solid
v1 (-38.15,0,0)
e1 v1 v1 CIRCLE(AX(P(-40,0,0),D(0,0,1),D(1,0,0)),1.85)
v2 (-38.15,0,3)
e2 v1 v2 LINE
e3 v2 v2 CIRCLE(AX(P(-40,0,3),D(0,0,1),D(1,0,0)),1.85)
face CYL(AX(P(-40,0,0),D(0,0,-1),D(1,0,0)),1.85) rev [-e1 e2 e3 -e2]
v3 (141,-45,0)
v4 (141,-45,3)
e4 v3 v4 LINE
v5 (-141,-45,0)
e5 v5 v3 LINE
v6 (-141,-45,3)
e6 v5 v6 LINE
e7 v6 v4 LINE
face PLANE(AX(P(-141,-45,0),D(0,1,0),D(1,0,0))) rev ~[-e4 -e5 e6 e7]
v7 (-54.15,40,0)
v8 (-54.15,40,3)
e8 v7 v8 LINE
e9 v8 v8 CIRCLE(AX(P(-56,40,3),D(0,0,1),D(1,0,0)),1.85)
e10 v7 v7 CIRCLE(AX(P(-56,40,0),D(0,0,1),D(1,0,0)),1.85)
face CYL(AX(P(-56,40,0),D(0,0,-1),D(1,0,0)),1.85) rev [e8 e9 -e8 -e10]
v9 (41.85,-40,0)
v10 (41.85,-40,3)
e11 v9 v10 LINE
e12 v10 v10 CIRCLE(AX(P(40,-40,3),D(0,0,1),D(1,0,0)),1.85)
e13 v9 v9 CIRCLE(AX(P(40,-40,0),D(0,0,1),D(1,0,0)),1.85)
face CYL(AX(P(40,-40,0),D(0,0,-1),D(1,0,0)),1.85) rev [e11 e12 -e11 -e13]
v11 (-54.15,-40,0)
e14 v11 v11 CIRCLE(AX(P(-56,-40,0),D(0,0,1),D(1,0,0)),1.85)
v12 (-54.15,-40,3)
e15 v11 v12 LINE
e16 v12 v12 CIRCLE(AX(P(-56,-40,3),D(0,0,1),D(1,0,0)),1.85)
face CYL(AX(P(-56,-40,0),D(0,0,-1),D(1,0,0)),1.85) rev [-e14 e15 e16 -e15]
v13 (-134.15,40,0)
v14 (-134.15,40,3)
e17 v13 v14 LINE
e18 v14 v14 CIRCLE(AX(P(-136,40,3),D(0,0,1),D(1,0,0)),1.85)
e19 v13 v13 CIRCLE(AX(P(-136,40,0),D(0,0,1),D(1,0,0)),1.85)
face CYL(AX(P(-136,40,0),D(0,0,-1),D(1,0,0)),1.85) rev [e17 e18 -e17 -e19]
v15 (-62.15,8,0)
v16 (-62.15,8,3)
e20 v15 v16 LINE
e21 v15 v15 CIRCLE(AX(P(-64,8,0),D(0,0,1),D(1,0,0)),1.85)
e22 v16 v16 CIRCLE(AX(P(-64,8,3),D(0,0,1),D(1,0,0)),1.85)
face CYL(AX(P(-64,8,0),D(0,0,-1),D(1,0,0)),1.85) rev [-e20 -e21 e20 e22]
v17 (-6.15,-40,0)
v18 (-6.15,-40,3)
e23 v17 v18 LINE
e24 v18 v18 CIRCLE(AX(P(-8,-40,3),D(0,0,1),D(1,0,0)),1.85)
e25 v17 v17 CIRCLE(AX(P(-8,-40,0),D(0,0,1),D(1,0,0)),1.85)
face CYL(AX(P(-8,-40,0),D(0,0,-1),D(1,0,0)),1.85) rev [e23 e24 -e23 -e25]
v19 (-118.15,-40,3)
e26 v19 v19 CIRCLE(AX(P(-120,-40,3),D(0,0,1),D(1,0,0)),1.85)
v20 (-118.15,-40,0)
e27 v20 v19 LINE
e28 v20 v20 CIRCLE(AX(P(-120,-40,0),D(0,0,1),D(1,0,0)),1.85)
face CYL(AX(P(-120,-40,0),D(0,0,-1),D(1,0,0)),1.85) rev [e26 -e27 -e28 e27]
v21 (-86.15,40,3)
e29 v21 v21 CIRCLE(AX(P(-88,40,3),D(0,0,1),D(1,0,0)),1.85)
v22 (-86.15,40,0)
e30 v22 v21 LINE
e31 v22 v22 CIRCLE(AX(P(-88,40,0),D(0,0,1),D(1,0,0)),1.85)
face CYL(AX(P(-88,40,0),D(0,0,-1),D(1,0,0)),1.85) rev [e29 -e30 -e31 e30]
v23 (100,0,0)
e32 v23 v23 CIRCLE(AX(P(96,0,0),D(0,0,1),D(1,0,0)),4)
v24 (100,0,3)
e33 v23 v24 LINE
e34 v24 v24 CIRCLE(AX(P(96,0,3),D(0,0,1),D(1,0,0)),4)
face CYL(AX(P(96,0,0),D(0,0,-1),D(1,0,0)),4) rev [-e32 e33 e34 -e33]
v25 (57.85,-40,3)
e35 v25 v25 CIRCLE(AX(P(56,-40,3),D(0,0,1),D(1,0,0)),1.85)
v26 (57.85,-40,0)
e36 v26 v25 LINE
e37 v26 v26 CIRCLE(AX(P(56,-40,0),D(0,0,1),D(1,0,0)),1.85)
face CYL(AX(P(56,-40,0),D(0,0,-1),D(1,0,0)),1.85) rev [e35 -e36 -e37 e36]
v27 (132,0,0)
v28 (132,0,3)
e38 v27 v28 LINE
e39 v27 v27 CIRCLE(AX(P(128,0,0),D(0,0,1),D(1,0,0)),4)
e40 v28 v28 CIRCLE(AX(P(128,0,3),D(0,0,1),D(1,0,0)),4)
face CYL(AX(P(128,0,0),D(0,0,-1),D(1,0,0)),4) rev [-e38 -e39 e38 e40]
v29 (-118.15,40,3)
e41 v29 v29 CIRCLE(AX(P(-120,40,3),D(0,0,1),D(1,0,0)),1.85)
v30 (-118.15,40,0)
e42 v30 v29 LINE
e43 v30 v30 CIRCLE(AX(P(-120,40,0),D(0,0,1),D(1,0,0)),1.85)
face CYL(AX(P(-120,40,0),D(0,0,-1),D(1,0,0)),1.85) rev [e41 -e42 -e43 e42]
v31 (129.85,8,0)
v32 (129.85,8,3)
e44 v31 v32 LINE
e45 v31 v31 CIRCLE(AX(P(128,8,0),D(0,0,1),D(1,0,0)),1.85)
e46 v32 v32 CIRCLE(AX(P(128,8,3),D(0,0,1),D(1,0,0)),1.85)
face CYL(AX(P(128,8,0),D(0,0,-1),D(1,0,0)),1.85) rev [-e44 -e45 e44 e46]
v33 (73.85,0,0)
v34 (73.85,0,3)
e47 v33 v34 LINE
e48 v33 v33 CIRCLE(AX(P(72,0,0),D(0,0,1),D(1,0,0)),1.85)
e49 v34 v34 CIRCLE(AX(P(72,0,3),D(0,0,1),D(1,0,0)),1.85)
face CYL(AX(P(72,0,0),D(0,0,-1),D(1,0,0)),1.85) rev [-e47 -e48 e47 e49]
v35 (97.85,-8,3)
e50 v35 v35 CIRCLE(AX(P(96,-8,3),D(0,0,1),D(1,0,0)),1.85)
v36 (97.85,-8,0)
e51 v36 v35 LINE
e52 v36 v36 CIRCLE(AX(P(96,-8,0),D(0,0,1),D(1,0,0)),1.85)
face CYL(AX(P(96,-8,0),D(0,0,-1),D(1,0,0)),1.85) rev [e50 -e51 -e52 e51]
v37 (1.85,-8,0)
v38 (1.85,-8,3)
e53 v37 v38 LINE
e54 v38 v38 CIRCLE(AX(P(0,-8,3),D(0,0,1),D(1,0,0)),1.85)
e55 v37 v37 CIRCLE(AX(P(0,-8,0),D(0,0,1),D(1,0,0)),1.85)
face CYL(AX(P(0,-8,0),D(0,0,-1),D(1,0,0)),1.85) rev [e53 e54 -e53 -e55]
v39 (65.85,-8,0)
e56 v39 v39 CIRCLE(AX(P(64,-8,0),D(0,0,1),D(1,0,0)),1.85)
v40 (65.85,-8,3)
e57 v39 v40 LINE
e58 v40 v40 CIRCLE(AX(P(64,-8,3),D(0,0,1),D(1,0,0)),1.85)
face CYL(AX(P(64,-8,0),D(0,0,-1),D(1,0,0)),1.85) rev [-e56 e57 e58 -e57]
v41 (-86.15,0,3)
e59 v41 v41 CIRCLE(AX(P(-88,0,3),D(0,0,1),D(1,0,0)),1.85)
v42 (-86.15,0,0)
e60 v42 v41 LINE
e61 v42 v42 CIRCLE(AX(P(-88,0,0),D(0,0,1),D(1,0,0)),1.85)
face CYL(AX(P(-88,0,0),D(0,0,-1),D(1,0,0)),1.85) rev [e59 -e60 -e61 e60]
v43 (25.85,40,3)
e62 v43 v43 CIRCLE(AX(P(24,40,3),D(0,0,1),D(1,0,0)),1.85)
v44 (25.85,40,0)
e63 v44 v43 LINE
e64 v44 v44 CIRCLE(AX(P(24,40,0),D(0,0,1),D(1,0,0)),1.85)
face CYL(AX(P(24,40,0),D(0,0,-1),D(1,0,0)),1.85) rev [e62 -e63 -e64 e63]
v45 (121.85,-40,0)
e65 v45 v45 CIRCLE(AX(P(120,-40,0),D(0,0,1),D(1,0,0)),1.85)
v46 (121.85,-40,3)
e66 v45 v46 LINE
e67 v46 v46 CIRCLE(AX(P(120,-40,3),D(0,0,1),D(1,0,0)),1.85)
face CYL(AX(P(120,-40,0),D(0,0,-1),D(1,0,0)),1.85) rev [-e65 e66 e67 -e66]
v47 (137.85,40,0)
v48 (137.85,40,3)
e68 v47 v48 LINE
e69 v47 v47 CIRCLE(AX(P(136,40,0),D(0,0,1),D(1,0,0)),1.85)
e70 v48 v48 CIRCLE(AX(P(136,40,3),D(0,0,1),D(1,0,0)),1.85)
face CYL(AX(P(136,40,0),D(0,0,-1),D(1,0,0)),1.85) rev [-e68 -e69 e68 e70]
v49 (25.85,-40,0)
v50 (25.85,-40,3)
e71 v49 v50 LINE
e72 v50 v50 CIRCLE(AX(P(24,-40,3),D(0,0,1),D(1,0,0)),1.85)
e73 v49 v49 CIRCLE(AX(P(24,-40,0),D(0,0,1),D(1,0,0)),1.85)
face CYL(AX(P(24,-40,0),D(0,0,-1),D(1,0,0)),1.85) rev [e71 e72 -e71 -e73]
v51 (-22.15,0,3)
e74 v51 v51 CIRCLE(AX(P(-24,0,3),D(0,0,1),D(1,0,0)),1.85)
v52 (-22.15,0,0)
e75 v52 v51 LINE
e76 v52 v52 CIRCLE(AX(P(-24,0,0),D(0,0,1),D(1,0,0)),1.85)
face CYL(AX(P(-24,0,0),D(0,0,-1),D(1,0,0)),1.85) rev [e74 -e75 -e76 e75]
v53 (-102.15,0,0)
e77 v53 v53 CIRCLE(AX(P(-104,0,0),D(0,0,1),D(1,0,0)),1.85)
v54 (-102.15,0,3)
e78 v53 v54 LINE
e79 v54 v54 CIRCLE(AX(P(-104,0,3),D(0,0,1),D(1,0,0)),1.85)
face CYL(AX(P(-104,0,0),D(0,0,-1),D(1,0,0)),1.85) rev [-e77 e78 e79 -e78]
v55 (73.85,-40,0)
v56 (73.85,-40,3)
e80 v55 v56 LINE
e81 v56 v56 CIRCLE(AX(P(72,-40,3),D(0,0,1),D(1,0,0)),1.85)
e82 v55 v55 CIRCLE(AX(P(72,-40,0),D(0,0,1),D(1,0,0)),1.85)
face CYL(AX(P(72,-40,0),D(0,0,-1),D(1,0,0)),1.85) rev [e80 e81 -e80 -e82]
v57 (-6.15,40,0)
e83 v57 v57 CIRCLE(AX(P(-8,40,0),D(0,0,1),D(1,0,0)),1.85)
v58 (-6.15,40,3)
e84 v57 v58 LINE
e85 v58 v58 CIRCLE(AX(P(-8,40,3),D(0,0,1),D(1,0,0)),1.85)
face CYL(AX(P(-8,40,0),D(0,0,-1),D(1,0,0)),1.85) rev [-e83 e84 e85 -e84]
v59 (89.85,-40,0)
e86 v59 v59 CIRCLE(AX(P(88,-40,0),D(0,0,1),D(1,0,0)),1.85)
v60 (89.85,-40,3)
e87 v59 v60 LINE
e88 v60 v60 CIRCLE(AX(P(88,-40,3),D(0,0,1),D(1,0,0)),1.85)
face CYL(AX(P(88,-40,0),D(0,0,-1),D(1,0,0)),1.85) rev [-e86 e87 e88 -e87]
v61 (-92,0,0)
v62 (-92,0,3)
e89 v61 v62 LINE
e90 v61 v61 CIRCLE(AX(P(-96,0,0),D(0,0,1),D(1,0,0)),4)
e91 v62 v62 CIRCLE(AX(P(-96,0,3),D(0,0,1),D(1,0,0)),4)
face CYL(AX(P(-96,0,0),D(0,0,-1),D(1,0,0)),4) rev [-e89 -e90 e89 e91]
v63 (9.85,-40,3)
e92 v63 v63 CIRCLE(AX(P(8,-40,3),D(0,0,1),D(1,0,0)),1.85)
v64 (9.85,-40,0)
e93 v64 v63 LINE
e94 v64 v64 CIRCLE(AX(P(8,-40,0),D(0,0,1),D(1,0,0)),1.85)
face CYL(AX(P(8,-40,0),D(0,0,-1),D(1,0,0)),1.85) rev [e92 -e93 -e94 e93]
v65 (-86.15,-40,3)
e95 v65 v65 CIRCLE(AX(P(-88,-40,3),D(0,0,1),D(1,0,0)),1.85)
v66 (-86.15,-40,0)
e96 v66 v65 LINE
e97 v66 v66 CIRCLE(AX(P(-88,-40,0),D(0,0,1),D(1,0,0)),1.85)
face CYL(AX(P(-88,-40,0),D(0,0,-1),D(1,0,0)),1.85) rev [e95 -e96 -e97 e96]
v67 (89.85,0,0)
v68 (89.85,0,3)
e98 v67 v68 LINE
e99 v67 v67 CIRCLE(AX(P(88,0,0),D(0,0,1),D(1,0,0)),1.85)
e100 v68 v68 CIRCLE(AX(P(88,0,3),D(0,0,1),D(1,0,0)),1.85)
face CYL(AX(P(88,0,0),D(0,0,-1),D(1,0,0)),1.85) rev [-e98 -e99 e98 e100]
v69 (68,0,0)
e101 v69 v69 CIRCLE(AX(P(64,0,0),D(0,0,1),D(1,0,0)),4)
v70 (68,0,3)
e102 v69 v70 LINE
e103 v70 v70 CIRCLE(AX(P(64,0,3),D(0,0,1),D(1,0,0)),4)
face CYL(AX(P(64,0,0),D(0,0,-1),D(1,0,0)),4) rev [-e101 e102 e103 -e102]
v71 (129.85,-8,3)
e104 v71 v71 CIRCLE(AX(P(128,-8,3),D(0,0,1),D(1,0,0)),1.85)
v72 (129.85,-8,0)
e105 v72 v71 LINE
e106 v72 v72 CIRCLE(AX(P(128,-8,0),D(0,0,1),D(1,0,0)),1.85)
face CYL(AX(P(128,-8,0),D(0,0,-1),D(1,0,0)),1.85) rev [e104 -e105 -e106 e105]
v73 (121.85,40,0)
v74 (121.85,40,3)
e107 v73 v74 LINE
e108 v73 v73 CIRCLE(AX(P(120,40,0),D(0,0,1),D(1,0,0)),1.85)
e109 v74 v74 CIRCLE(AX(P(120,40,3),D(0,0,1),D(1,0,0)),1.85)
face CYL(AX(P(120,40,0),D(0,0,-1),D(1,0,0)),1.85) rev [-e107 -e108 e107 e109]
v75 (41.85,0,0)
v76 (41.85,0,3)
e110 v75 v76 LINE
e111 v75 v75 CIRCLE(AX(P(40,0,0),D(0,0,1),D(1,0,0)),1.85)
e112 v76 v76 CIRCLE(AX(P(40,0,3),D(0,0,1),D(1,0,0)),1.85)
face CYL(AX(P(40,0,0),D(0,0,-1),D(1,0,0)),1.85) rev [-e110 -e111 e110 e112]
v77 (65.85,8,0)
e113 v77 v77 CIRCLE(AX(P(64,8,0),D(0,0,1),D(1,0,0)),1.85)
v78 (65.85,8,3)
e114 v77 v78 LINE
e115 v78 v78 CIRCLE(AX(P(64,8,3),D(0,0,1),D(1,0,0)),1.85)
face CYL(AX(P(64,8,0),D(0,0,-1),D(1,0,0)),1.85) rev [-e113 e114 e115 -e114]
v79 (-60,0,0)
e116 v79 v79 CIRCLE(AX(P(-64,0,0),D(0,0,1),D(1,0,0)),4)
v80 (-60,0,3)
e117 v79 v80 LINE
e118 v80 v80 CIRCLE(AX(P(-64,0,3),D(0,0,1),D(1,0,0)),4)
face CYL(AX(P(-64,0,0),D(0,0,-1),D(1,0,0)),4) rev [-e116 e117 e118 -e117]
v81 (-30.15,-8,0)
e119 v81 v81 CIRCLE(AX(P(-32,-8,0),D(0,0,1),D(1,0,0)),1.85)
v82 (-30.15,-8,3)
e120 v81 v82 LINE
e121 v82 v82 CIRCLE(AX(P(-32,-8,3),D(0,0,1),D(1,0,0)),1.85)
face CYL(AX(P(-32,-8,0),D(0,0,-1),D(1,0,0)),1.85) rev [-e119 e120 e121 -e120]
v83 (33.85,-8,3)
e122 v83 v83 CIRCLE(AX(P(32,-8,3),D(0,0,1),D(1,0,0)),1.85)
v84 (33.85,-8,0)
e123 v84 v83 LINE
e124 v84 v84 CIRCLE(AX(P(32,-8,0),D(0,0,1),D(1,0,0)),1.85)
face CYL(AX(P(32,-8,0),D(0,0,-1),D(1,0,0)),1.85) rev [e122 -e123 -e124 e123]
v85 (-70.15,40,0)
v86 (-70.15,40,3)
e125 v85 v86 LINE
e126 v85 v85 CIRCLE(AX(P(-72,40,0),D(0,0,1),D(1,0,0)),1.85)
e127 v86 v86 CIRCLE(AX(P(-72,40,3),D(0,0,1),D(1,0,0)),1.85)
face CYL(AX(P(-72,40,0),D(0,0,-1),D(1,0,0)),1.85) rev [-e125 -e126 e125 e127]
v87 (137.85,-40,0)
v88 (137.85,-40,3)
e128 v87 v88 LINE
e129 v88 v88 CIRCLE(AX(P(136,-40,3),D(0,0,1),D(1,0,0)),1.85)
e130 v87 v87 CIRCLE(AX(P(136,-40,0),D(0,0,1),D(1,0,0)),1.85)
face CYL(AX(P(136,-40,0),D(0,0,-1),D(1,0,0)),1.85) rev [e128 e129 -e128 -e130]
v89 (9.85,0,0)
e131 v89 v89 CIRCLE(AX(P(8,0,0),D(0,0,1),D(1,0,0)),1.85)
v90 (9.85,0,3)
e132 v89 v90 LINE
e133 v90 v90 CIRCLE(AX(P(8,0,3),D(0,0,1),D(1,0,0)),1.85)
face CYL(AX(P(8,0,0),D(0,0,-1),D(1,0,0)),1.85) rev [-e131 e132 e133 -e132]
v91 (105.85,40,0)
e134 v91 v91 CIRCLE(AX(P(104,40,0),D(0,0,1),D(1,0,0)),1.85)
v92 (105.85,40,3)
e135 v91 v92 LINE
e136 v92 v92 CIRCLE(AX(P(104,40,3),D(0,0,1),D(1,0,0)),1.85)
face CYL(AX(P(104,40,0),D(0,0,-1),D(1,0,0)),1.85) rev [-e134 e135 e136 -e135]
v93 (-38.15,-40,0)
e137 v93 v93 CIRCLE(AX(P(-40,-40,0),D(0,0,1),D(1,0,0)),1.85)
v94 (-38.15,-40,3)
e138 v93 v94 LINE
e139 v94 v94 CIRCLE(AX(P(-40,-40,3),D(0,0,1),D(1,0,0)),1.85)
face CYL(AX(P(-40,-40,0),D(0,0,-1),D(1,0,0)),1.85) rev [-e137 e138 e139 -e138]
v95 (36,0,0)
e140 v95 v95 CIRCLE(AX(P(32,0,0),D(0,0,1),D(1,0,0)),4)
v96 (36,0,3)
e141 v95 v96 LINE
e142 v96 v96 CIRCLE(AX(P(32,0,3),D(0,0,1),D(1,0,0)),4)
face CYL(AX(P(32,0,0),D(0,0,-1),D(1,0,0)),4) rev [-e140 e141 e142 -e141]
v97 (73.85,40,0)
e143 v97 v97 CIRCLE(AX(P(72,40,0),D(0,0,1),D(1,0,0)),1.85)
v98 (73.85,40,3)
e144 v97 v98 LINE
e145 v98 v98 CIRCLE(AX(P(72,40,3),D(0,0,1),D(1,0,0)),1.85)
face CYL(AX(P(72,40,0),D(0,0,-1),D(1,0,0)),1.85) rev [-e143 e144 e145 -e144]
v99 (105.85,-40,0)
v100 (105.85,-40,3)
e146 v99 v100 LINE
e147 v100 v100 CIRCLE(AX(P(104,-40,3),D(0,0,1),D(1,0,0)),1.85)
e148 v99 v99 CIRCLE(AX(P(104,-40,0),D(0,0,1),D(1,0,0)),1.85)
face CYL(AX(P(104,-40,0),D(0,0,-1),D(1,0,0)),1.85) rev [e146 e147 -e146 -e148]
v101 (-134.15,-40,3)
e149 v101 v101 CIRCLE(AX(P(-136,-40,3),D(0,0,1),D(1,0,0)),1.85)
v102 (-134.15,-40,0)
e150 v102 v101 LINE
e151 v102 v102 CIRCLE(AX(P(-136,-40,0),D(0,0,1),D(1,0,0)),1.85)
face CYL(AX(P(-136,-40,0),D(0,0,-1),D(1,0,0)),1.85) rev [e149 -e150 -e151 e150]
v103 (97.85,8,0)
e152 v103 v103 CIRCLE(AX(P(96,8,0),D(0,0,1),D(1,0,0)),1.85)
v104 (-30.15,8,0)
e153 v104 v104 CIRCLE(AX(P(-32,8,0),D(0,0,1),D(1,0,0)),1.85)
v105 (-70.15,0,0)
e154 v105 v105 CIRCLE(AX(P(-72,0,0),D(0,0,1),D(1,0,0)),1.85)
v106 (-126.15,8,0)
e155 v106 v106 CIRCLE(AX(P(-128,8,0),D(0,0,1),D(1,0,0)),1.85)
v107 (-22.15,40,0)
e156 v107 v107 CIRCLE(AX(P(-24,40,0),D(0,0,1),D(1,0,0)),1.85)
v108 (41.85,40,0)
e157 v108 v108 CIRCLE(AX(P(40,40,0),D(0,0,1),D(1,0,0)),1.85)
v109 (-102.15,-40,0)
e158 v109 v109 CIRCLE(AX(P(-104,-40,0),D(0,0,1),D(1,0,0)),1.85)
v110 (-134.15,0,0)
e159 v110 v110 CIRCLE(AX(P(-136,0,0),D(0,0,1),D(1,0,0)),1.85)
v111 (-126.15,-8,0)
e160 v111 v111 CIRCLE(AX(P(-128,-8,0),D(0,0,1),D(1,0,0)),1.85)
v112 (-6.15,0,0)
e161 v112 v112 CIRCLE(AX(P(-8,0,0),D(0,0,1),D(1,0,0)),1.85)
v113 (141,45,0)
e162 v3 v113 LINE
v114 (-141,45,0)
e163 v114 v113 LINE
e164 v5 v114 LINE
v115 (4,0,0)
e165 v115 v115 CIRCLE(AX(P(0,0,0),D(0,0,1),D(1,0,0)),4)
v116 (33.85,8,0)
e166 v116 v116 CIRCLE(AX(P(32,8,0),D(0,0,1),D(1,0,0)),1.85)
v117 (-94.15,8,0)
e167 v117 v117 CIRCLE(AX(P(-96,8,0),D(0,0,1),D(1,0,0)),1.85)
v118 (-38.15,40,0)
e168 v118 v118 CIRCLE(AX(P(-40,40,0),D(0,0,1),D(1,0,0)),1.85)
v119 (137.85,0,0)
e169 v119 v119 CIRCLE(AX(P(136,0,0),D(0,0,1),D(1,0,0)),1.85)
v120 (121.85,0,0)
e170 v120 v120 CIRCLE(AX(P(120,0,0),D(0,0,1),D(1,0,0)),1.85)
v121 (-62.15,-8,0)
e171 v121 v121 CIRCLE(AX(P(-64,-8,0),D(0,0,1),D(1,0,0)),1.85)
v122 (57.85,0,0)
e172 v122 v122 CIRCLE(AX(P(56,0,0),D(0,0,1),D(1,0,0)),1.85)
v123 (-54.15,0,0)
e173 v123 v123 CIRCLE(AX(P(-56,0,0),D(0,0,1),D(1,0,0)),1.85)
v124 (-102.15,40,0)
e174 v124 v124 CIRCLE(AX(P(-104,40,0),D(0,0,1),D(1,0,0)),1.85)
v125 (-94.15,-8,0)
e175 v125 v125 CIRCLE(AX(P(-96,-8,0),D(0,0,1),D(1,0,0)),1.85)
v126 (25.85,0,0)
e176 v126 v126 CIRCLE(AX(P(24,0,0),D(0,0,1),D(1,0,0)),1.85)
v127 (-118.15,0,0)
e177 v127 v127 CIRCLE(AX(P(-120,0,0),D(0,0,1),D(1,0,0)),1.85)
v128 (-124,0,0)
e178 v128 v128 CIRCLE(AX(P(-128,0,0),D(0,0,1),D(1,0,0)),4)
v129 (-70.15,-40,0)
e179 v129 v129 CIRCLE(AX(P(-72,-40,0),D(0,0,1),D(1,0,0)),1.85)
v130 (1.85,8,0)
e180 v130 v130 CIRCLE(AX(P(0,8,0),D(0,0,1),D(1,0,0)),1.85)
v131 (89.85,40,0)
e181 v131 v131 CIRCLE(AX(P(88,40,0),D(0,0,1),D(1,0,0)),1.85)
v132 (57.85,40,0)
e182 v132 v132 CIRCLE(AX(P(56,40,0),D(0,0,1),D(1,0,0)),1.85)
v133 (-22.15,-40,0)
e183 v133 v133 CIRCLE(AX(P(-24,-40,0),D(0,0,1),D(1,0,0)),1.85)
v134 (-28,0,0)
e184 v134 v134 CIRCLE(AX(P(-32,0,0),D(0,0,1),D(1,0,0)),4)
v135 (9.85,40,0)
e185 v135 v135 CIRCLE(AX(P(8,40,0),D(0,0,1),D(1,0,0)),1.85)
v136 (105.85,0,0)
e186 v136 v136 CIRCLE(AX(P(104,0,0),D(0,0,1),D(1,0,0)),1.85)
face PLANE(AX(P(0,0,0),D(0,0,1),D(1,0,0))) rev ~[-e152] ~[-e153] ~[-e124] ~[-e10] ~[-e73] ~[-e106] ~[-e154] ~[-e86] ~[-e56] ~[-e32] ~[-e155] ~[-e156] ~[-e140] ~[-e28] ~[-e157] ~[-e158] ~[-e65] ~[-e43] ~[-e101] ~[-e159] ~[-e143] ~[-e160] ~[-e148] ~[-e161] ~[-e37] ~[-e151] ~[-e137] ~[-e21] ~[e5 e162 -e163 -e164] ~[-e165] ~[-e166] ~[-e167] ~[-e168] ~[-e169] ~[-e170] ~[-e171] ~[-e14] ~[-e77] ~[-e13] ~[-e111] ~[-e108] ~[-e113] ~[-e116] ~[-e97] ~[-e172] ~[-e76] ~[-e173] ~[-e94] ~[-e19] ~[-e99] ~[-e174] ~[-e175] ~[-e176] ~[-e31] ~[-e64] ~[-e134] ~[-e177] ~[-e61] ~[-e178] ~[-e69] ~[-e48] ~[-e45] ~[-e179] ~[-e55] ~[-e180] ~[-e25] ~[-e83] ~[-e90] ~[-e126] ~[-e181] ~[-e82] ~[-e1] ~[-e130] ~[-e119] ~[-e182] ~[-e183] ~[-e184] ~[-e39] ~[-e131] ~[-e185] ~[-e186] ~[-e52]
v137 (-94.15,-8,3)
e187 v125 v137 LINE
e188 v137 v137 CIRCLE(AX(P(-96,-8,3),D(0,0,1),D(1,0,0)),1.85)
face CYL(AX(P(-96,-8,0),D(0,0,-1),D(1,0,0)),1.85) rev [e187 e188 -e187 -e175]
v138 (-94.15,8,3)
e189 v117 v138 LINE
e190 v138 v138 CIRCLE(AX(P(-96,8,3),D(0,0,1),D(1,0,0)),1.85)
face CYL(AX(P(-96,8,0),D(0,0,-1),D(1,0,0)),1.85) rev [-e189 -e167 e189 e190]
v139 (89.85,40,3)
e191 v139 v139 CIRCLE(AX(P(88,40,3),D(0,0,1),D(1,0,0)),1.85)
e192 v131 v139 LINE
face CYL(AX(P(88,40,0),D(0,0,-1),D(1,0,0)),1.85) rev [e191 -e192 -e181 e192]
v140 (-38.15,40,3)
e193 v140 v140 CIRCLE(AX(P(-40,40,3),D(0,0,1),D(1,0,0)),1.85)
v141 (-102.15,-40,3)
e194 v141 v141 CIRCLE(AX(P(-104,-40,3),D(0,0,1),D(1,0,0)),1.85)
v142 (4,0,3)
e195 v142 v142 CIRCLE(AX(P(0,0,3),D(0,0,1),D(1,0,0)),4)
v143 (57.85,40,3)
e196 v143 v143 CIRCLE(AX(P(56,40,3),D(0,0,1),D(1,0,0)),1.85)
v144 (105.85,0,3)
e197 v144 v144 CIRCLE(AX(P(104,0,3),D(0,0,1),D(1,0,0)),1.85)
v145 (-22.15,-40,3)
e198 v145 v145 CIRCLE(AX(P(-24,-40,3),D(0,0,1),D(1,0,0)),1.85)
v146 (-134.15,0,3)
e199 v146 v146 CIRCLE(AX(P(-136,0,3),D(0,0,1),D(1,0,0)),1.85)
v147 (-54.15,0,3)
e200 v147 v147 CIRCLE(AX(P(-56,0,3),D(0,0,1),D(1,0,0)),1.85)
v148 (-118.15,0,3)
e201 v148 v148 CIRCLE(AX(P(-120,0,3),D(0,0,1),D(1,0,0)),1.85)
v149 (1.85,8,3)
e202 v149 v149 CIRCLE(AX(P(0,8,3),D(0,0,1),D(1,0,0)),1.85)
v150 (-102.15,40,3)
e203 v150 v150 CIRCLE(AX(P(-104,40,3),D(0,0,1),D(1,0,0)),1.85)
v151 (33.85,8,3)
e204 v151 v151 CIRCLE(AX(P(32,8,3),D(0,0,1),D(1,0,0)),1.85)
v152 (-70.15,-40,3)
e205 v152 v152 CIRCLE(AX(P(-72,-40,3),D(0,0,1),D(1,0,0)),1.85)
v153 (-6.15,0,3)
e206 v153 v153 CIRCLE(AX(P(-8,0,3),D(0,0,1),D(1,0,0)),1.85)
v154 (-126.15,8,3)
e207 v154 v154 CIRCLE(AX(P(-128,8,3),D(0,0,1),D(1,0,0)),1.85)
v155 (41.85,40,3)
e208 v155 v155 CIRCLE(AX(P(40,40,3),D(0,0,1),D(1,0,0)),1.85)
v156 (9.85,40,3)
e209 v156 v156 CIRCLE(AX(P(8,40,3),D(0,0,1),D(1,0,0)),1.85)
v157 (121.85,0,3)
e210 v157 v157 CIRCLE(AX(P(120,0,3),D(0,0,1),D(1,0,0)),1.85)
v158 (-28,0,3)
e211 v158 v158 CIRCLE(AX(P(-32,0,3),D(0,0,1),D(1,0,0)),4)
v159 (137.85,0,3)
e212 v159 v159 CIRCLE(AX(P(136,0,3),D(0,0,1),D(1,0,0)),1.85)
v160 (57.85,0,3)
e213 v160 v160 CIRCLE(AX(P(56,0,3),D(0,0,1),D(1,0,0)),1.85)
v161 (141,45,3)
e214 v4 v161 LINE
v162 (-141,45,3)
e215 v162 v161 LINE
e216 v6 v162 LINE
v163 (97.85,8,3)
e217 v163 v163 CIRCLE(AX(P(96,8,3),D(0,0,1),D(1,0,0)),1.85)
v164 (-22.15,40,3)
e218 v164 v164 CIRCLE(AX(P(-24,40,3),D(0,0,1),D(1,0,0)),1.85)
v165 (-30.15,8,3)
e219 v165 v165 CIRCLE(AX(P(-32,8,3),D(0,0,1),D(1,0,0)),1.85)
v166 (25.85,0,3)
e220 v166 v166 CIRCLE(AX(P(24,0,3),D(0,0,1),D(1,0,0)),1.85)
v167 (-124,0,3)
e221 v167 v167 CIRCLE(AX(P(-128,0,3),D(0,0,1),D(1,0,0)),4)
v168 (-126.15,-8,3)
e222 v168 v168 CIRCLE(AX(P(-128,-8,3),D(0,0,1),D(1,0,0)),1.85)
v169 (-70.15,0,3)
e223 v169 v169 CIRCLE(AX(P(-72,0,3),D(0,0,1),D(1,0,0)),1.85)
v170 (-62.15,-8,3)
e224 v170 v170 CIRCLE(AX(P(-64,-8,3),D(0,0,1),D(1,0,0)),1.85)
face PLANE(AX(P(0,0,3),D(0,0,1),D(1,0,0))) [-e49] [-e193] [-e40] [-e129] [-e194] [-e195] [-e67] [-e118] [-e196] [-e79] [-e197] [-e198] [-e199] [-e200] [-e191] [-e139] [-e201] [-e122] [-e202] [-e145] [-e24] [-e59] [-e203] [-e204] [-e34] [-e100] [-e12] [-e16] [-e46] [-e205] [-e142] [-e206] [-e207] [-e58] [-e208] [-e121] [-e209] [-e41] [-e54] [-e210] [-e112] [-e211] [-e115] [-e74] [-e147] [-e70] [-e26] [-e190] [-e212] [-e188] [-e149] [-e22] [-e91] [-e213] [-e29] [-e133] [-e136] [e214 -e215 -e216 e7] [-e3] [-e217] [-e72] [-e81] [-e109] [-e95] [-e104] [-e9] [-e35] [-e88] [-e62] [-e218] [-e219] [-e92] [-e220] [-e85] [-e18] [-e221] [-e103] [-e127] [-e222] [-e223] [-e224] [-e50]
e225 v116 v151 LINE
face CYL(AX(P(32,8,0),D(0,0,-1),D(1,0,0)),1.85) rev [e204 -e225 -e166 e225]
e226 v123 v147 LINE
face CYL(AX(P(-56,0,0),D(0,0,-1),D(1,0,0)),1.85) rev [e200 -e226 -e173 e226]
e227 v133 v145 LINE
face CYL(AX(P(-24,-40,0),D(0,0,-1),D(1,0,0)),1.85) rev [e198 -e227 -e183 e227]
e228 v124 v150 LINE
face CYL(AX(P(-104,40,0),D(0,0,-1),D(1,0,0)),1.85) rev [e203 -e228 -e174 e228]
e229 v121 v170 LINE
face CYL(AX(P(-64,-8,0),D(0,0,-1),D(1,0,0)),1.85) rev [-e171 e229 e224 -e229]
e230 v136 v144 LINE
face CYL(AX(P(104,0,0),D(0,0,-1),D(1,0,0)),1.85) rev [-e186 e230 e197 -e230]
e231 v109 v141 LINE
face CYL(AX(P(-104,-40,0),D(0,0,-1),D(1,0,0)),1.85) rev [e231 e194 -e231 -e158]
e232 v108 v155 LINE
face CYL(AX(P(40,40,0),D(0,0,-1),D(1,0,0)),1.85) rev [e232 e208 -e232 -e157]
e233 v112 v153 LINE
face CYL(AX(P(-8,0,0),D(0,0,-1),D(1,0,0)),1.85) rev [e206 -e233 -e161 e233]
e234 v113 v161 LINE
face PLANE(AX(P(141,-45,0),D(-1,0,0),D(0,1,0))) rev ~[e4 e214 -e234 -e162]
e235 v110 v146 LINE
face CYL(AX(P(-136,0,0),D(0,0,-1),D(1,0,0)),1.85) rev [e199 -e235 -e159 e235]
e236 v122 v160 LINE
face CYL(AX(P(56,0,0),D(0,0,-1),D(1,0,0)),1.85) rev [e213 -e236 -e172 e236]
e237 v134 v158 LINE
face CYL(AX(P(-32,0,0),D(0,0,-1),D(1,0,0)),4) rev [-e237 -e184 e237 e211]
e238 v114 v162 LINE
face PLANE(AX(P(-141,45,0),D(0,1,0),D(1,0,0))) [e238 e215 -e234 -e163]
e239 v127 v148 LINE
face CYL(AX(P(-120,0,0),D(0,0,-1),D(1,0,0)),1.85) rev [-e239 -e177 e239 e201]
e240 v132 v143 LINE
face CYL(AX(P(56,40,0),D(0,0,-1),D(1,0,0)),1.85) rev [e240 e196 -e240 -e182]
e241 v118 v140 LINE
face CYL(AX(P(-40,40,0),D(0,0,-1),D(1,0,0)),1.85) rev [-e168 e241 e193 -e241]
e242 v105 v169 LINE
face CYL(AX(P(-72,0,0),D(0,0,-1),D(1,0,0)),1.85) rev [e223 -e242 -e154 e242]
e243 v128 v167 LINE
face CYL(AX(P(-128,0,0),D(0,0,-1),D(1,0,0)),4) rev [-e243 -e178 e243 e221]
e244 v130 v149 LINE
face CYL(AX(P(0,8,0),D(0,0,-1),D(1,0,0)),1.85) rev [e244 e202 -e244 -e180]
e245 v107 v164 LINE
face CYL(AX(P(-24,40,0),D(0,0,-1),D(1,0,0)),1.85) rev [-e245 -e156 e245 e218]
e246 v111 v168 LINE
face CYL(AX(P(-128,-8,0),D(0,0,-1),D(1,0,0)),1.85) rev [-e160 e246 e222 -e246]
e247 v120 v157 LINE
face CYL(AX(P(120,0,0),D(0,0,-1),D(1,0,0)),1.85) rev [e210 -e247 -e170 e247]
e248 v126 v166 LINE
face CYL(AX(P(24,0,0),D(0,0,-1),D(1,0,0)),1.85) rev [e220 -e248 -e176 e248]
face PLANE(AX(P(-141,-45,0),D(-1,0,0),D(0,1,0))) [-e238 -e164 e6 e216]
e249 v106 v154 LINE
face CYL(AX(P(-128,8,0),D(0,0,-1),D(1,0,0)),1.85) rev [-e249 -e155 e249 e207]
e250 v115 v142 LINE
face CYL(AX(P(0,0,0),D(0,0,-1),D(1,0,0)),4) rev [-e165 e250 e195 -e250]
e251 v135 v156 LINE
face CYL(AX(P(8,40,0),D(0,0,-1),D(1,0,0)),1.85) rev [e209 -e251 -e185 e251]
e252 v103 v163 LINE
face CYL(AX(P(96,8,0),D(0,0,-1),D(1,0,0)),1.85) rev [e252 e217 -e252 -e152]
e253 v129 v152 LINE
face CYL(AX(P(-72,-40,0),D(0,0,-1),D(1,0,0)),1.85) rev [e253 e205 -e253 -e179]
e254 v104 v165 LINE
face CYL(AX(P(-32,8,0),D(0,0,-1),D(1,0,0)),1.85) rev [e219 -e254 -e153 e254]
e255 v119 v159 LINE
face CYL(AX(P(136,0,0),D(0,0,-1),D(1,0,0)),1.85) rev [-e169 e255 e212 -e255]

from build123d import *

# Parameters (mm, degrees)
F0_W     = 282
F0_H     = 90
F0_R     = 1.85
F0_R_2   = 4
F1_DEPTH = 3


with BuildPart() as f1:
    # F0 (on Top) → F1 (new body)
    with BuildSketch(Plane.XY):
        Rectangle(F0_W, F0_H)
        with Locations((-136, -40)):
            Circle(F0_R, mode=Mode.SUBTRACT)
        with Locations((-120, -40)):
            Circle(F0_R, mode=Mode.SUBTRACT)
        with Locations((-104, -40)):
            Circle(F0_R, mode=Mode.SUBTRACT)
        with Locations((-88, -40)):
            Circle(F0_R, mode=Mode.SUBTRACT)
        with Locations((-72, -40)):
            Circle(F0_R, mode=Mode.SUBTRACT)
        with Locations((-56, -40)):
            Circle(F0_R, mode=Mode.SUBTRACT)
        with Locations((-40, -40)):
            Circle(F0_R, mode=Mode.SUBTRACT)
        with Locations((-24, -40)):
            Circle(F0_R, mode=Mode.SUBTRACT)
        with Locations((-8, -40)):
            Circle(F0_R, mode=Mode.SUBTRACT)
        with Locations((-128, -8)):
            Circle(F0_R, mode=Mode.SUBTRACT)
        with Locations((-96, -8)):
            Circle(F0_R, mode=Mode.SUBTRACT)
        with Locations((-64, -8)):
            Circle(F0_R, mode=Mode.SUBTRACT)
        with Locations((-32, -8)):
            Circle(F0_R, mode=Mode.SUBTRACT)
        with Locations((8, -40)):
            Circle(F0_R, mode=Mode.SUBTRACT)
        with Locations((24, -40)):
            Circle(F0_R, mode=Mode.SUBTRACT)
        with Locations((40, -40)):
            Circle(F0_R, mode=Mode.SUBTRACT)
        with Locations((56, -40)):
            Circle(F0_R, mode=Mode.SUBTRACT)
        with Locations((72, -40)):
            Circle(F0_R, mode=Mode.SUBTRACT)
        with Locations((88, -40)):
            Circle(F0_R, mode=Mode.SUBTRACT)
        with Locations((104, -40)):
            Circle(F0_R, mode=Mode.SUBTRACT)
        with Locations((120, -40)):
            Circle(F0_R, mode=Mode.SUBTRACT)
        with Locations((136, -40)):
            Circle(F0_R, mode=Mode.SUBTRACT)
        with Locations((0, -8)):
            Circle(F0_R, mode=Mode.SUBTRACT)
        with Locations((32, -8)):
            Circle(F0_R, mode=Mode.SUBTRACT)
        with Locations((64, -8)):
            Circle(F0_R, mode=Mode.SUBTRACT)
        with Locations((96, -8)):
            Circle(F0_R, mode=Mode.SUBTRACT)
        with Locations((128, -8)):
            Circle(F0_R, mode=Mode.SUBTRACT)
        with Locations((-136, 0)):
            Circle(F0_R, mode=Mode.SUBTRACT)
        with Locations((-128, 0)):
            Circle(F0_R_2, mode=Mode.SUBTRACT)
        with Locations((-120, 0)):
            Circle(F0_R, mode=Mode.SUBTRACT)
        with Locations((-128, 8)):
            Circle(F0_R, mode=Mode.SUBTRACT)
        with Locations((-104, 0)):
            Circle(F0_R, mode=Mode.SUBTRACT)
        with Locations((-96, 0)):
            Circle(F0_R_2, mode=Mode.SUBTRACT)
        with Locations((-88, 0)):
            Circle(F0_R, mode=Mode.SUBTRACT)
        with Locations((-72, 0)):
            Circle(F0_R, mode=Mode.SUBTRACT)
        with Locations((-96, 8)):
            Circle(F0_R, mode=Mode.SUBTRACT)
        with Locations((-64, 0)):
            Circle(F0_R_2, mode=Mode.SUBTRACT)
        with Locations((-56, 0)):
            Circle(F0_R, mode=Mode.SUBTRACT)
        with Locations((-40, 0)):
            Circle(F0_R, mode=Mode.SUBTRACT)
        with Locations((-64, 8)):
            Circle(F0_R, mode=Mode.SUBTRACT)
        with Locations((-32, 0)):
            Circle(F0_R_2, mode=Mode.SUBTRACT)
        with Locations((-24, 0)):
            Circle(F0_R, mode=Mode.SUBTRACT)
        with Locations((-8, 0)):
            Circle(F0_R, mode=Mode.SUBTRACT)
        with Locations((-32, 8)):
            Circle(F0_R, mode=Mode.SUBTRACT)
        with Locations((-136, 40)):
            Circle(F0_R, mode=Mode.SUBTRACT)
        with Locations((-120, 40)):
            Circle(F0_R, mode=Mode.SUBTRACT)
        with Locations((-104, 40)):
            Circle(F0_R, mode=Mode.SUBTRACT)
        with Locations((-88, 40)):
            Circle(F0_R, mode=Mode.SUBTRACT)
        with Locations((-72, 40)):
            Circle(F0_R, mode=Mode.SUBTRACT)
        with Locations((-56, 40)):
            Circle(F0_R, mode=Mode.SUBTRACT)
        with Locations((-40, 40)):
            Circle(F0_R, mode=Mode.SUBTRACT)
        with Locations((-24, 40)):
            Circle(F0_R, mode=Mode.SUBTRACT)
        with Locations((-8, 40)):
            Circle(F0_R, mode=Mode.SUBTRACT)
        Circle(F0_R_2, mode=Mode.SUBTRACT)
        with Locations((8, 0)):
            Circle(F0_R, mode=Mode.SUBTRACT)
        with Locations((24, 0)):
            Circle(F0_R, mode=Mode.SUBTRACT)
        with Locations((32, 0)):
            Circle(F0_R_2, mode=Mode.SUBTRACT)
        with Locations((0, 8)):
            Circle(F0_R, mode=Mode.SUBTRACT)
        with Locations((32, 8)):
            Circle(F0_R, mode=Mode.SUBTRACT)
        with Locations((40, 0)):
            Circle(F0_R, mode=Mode.SUBTRACT)
        with Locations((56, 0)):
            Circle(F0_R, mode=Mode.SUBTRACT)
        with Locations((64, 0)):
            Circle(F0_R_2, mode=Mode.SUBTRACT)
        with Locations((64, 8)):
            Circle(F0_R, mode=Mode.SUBTRACT)
        with Locations((72, 0)):
            Circle(F0_R, mode=Mode.SUBTRACT)
        with Locations((88, 0)):
            Circle(F0_R, mode=Mode.SUBTRACT)
        with Locations((96, 0)):
            Circle(F0_R_2, mode=Mode.SUBTRACT)
        with Locations((104, 0)):
            Circle(F0_R, mode=Mode.SUBTRACT)
        with Locations((96, 8)):
            Circle(F0_R, mode=Mode.SUBTRACT)
        with Locations((120, 0)):
            Circle(F0_R, mode=Mode.SUBTRACT)
        with Locations((128, 0)):
            Circle(F0_R_2, mode=Mode.SUBTRACT)
        with Locations((136, 0)):
            Circle(F0_R, mode=Mode.SUBTRACT)
        with Locations((128, 8)):
            Circle(F0_R, mode=Mode.SUBTRACT)
        with Locations((8, 40)):
            Circle(F0_R, mode=Mode.SUBTRACT)
        with Locations((24, 40)):
            Circle(F0_R, mode=Mode.SUBTRACT)
        with Locations((40, 40)):
            Circle(F0_R, mode=Mode.SUBTRACT)
        with Locations((56, 40)):
            Circle(F0_R, mode=Mode.SUBTRACT)
        with Locations((72, 40)):
            Circle(F0_R, mode=Mode.SUBTRACT)
        with Locations((88, 40)):
            Circle(F0_R, mode=Mode.SUBTRACT)
        with Locations((104, 40)):
            Circle(F0_R, mode=Mode.SUBTRACT)
        with Locations((120, 40)):
            Circle(F0_R, mode=Mode.SUBTRACT)
        with Locations((136, 40)):
            Circle(F0_R, mode=Mode.SUBTRACT)
    extrude(amount=F1_DEPTH)


solid = f1.part
